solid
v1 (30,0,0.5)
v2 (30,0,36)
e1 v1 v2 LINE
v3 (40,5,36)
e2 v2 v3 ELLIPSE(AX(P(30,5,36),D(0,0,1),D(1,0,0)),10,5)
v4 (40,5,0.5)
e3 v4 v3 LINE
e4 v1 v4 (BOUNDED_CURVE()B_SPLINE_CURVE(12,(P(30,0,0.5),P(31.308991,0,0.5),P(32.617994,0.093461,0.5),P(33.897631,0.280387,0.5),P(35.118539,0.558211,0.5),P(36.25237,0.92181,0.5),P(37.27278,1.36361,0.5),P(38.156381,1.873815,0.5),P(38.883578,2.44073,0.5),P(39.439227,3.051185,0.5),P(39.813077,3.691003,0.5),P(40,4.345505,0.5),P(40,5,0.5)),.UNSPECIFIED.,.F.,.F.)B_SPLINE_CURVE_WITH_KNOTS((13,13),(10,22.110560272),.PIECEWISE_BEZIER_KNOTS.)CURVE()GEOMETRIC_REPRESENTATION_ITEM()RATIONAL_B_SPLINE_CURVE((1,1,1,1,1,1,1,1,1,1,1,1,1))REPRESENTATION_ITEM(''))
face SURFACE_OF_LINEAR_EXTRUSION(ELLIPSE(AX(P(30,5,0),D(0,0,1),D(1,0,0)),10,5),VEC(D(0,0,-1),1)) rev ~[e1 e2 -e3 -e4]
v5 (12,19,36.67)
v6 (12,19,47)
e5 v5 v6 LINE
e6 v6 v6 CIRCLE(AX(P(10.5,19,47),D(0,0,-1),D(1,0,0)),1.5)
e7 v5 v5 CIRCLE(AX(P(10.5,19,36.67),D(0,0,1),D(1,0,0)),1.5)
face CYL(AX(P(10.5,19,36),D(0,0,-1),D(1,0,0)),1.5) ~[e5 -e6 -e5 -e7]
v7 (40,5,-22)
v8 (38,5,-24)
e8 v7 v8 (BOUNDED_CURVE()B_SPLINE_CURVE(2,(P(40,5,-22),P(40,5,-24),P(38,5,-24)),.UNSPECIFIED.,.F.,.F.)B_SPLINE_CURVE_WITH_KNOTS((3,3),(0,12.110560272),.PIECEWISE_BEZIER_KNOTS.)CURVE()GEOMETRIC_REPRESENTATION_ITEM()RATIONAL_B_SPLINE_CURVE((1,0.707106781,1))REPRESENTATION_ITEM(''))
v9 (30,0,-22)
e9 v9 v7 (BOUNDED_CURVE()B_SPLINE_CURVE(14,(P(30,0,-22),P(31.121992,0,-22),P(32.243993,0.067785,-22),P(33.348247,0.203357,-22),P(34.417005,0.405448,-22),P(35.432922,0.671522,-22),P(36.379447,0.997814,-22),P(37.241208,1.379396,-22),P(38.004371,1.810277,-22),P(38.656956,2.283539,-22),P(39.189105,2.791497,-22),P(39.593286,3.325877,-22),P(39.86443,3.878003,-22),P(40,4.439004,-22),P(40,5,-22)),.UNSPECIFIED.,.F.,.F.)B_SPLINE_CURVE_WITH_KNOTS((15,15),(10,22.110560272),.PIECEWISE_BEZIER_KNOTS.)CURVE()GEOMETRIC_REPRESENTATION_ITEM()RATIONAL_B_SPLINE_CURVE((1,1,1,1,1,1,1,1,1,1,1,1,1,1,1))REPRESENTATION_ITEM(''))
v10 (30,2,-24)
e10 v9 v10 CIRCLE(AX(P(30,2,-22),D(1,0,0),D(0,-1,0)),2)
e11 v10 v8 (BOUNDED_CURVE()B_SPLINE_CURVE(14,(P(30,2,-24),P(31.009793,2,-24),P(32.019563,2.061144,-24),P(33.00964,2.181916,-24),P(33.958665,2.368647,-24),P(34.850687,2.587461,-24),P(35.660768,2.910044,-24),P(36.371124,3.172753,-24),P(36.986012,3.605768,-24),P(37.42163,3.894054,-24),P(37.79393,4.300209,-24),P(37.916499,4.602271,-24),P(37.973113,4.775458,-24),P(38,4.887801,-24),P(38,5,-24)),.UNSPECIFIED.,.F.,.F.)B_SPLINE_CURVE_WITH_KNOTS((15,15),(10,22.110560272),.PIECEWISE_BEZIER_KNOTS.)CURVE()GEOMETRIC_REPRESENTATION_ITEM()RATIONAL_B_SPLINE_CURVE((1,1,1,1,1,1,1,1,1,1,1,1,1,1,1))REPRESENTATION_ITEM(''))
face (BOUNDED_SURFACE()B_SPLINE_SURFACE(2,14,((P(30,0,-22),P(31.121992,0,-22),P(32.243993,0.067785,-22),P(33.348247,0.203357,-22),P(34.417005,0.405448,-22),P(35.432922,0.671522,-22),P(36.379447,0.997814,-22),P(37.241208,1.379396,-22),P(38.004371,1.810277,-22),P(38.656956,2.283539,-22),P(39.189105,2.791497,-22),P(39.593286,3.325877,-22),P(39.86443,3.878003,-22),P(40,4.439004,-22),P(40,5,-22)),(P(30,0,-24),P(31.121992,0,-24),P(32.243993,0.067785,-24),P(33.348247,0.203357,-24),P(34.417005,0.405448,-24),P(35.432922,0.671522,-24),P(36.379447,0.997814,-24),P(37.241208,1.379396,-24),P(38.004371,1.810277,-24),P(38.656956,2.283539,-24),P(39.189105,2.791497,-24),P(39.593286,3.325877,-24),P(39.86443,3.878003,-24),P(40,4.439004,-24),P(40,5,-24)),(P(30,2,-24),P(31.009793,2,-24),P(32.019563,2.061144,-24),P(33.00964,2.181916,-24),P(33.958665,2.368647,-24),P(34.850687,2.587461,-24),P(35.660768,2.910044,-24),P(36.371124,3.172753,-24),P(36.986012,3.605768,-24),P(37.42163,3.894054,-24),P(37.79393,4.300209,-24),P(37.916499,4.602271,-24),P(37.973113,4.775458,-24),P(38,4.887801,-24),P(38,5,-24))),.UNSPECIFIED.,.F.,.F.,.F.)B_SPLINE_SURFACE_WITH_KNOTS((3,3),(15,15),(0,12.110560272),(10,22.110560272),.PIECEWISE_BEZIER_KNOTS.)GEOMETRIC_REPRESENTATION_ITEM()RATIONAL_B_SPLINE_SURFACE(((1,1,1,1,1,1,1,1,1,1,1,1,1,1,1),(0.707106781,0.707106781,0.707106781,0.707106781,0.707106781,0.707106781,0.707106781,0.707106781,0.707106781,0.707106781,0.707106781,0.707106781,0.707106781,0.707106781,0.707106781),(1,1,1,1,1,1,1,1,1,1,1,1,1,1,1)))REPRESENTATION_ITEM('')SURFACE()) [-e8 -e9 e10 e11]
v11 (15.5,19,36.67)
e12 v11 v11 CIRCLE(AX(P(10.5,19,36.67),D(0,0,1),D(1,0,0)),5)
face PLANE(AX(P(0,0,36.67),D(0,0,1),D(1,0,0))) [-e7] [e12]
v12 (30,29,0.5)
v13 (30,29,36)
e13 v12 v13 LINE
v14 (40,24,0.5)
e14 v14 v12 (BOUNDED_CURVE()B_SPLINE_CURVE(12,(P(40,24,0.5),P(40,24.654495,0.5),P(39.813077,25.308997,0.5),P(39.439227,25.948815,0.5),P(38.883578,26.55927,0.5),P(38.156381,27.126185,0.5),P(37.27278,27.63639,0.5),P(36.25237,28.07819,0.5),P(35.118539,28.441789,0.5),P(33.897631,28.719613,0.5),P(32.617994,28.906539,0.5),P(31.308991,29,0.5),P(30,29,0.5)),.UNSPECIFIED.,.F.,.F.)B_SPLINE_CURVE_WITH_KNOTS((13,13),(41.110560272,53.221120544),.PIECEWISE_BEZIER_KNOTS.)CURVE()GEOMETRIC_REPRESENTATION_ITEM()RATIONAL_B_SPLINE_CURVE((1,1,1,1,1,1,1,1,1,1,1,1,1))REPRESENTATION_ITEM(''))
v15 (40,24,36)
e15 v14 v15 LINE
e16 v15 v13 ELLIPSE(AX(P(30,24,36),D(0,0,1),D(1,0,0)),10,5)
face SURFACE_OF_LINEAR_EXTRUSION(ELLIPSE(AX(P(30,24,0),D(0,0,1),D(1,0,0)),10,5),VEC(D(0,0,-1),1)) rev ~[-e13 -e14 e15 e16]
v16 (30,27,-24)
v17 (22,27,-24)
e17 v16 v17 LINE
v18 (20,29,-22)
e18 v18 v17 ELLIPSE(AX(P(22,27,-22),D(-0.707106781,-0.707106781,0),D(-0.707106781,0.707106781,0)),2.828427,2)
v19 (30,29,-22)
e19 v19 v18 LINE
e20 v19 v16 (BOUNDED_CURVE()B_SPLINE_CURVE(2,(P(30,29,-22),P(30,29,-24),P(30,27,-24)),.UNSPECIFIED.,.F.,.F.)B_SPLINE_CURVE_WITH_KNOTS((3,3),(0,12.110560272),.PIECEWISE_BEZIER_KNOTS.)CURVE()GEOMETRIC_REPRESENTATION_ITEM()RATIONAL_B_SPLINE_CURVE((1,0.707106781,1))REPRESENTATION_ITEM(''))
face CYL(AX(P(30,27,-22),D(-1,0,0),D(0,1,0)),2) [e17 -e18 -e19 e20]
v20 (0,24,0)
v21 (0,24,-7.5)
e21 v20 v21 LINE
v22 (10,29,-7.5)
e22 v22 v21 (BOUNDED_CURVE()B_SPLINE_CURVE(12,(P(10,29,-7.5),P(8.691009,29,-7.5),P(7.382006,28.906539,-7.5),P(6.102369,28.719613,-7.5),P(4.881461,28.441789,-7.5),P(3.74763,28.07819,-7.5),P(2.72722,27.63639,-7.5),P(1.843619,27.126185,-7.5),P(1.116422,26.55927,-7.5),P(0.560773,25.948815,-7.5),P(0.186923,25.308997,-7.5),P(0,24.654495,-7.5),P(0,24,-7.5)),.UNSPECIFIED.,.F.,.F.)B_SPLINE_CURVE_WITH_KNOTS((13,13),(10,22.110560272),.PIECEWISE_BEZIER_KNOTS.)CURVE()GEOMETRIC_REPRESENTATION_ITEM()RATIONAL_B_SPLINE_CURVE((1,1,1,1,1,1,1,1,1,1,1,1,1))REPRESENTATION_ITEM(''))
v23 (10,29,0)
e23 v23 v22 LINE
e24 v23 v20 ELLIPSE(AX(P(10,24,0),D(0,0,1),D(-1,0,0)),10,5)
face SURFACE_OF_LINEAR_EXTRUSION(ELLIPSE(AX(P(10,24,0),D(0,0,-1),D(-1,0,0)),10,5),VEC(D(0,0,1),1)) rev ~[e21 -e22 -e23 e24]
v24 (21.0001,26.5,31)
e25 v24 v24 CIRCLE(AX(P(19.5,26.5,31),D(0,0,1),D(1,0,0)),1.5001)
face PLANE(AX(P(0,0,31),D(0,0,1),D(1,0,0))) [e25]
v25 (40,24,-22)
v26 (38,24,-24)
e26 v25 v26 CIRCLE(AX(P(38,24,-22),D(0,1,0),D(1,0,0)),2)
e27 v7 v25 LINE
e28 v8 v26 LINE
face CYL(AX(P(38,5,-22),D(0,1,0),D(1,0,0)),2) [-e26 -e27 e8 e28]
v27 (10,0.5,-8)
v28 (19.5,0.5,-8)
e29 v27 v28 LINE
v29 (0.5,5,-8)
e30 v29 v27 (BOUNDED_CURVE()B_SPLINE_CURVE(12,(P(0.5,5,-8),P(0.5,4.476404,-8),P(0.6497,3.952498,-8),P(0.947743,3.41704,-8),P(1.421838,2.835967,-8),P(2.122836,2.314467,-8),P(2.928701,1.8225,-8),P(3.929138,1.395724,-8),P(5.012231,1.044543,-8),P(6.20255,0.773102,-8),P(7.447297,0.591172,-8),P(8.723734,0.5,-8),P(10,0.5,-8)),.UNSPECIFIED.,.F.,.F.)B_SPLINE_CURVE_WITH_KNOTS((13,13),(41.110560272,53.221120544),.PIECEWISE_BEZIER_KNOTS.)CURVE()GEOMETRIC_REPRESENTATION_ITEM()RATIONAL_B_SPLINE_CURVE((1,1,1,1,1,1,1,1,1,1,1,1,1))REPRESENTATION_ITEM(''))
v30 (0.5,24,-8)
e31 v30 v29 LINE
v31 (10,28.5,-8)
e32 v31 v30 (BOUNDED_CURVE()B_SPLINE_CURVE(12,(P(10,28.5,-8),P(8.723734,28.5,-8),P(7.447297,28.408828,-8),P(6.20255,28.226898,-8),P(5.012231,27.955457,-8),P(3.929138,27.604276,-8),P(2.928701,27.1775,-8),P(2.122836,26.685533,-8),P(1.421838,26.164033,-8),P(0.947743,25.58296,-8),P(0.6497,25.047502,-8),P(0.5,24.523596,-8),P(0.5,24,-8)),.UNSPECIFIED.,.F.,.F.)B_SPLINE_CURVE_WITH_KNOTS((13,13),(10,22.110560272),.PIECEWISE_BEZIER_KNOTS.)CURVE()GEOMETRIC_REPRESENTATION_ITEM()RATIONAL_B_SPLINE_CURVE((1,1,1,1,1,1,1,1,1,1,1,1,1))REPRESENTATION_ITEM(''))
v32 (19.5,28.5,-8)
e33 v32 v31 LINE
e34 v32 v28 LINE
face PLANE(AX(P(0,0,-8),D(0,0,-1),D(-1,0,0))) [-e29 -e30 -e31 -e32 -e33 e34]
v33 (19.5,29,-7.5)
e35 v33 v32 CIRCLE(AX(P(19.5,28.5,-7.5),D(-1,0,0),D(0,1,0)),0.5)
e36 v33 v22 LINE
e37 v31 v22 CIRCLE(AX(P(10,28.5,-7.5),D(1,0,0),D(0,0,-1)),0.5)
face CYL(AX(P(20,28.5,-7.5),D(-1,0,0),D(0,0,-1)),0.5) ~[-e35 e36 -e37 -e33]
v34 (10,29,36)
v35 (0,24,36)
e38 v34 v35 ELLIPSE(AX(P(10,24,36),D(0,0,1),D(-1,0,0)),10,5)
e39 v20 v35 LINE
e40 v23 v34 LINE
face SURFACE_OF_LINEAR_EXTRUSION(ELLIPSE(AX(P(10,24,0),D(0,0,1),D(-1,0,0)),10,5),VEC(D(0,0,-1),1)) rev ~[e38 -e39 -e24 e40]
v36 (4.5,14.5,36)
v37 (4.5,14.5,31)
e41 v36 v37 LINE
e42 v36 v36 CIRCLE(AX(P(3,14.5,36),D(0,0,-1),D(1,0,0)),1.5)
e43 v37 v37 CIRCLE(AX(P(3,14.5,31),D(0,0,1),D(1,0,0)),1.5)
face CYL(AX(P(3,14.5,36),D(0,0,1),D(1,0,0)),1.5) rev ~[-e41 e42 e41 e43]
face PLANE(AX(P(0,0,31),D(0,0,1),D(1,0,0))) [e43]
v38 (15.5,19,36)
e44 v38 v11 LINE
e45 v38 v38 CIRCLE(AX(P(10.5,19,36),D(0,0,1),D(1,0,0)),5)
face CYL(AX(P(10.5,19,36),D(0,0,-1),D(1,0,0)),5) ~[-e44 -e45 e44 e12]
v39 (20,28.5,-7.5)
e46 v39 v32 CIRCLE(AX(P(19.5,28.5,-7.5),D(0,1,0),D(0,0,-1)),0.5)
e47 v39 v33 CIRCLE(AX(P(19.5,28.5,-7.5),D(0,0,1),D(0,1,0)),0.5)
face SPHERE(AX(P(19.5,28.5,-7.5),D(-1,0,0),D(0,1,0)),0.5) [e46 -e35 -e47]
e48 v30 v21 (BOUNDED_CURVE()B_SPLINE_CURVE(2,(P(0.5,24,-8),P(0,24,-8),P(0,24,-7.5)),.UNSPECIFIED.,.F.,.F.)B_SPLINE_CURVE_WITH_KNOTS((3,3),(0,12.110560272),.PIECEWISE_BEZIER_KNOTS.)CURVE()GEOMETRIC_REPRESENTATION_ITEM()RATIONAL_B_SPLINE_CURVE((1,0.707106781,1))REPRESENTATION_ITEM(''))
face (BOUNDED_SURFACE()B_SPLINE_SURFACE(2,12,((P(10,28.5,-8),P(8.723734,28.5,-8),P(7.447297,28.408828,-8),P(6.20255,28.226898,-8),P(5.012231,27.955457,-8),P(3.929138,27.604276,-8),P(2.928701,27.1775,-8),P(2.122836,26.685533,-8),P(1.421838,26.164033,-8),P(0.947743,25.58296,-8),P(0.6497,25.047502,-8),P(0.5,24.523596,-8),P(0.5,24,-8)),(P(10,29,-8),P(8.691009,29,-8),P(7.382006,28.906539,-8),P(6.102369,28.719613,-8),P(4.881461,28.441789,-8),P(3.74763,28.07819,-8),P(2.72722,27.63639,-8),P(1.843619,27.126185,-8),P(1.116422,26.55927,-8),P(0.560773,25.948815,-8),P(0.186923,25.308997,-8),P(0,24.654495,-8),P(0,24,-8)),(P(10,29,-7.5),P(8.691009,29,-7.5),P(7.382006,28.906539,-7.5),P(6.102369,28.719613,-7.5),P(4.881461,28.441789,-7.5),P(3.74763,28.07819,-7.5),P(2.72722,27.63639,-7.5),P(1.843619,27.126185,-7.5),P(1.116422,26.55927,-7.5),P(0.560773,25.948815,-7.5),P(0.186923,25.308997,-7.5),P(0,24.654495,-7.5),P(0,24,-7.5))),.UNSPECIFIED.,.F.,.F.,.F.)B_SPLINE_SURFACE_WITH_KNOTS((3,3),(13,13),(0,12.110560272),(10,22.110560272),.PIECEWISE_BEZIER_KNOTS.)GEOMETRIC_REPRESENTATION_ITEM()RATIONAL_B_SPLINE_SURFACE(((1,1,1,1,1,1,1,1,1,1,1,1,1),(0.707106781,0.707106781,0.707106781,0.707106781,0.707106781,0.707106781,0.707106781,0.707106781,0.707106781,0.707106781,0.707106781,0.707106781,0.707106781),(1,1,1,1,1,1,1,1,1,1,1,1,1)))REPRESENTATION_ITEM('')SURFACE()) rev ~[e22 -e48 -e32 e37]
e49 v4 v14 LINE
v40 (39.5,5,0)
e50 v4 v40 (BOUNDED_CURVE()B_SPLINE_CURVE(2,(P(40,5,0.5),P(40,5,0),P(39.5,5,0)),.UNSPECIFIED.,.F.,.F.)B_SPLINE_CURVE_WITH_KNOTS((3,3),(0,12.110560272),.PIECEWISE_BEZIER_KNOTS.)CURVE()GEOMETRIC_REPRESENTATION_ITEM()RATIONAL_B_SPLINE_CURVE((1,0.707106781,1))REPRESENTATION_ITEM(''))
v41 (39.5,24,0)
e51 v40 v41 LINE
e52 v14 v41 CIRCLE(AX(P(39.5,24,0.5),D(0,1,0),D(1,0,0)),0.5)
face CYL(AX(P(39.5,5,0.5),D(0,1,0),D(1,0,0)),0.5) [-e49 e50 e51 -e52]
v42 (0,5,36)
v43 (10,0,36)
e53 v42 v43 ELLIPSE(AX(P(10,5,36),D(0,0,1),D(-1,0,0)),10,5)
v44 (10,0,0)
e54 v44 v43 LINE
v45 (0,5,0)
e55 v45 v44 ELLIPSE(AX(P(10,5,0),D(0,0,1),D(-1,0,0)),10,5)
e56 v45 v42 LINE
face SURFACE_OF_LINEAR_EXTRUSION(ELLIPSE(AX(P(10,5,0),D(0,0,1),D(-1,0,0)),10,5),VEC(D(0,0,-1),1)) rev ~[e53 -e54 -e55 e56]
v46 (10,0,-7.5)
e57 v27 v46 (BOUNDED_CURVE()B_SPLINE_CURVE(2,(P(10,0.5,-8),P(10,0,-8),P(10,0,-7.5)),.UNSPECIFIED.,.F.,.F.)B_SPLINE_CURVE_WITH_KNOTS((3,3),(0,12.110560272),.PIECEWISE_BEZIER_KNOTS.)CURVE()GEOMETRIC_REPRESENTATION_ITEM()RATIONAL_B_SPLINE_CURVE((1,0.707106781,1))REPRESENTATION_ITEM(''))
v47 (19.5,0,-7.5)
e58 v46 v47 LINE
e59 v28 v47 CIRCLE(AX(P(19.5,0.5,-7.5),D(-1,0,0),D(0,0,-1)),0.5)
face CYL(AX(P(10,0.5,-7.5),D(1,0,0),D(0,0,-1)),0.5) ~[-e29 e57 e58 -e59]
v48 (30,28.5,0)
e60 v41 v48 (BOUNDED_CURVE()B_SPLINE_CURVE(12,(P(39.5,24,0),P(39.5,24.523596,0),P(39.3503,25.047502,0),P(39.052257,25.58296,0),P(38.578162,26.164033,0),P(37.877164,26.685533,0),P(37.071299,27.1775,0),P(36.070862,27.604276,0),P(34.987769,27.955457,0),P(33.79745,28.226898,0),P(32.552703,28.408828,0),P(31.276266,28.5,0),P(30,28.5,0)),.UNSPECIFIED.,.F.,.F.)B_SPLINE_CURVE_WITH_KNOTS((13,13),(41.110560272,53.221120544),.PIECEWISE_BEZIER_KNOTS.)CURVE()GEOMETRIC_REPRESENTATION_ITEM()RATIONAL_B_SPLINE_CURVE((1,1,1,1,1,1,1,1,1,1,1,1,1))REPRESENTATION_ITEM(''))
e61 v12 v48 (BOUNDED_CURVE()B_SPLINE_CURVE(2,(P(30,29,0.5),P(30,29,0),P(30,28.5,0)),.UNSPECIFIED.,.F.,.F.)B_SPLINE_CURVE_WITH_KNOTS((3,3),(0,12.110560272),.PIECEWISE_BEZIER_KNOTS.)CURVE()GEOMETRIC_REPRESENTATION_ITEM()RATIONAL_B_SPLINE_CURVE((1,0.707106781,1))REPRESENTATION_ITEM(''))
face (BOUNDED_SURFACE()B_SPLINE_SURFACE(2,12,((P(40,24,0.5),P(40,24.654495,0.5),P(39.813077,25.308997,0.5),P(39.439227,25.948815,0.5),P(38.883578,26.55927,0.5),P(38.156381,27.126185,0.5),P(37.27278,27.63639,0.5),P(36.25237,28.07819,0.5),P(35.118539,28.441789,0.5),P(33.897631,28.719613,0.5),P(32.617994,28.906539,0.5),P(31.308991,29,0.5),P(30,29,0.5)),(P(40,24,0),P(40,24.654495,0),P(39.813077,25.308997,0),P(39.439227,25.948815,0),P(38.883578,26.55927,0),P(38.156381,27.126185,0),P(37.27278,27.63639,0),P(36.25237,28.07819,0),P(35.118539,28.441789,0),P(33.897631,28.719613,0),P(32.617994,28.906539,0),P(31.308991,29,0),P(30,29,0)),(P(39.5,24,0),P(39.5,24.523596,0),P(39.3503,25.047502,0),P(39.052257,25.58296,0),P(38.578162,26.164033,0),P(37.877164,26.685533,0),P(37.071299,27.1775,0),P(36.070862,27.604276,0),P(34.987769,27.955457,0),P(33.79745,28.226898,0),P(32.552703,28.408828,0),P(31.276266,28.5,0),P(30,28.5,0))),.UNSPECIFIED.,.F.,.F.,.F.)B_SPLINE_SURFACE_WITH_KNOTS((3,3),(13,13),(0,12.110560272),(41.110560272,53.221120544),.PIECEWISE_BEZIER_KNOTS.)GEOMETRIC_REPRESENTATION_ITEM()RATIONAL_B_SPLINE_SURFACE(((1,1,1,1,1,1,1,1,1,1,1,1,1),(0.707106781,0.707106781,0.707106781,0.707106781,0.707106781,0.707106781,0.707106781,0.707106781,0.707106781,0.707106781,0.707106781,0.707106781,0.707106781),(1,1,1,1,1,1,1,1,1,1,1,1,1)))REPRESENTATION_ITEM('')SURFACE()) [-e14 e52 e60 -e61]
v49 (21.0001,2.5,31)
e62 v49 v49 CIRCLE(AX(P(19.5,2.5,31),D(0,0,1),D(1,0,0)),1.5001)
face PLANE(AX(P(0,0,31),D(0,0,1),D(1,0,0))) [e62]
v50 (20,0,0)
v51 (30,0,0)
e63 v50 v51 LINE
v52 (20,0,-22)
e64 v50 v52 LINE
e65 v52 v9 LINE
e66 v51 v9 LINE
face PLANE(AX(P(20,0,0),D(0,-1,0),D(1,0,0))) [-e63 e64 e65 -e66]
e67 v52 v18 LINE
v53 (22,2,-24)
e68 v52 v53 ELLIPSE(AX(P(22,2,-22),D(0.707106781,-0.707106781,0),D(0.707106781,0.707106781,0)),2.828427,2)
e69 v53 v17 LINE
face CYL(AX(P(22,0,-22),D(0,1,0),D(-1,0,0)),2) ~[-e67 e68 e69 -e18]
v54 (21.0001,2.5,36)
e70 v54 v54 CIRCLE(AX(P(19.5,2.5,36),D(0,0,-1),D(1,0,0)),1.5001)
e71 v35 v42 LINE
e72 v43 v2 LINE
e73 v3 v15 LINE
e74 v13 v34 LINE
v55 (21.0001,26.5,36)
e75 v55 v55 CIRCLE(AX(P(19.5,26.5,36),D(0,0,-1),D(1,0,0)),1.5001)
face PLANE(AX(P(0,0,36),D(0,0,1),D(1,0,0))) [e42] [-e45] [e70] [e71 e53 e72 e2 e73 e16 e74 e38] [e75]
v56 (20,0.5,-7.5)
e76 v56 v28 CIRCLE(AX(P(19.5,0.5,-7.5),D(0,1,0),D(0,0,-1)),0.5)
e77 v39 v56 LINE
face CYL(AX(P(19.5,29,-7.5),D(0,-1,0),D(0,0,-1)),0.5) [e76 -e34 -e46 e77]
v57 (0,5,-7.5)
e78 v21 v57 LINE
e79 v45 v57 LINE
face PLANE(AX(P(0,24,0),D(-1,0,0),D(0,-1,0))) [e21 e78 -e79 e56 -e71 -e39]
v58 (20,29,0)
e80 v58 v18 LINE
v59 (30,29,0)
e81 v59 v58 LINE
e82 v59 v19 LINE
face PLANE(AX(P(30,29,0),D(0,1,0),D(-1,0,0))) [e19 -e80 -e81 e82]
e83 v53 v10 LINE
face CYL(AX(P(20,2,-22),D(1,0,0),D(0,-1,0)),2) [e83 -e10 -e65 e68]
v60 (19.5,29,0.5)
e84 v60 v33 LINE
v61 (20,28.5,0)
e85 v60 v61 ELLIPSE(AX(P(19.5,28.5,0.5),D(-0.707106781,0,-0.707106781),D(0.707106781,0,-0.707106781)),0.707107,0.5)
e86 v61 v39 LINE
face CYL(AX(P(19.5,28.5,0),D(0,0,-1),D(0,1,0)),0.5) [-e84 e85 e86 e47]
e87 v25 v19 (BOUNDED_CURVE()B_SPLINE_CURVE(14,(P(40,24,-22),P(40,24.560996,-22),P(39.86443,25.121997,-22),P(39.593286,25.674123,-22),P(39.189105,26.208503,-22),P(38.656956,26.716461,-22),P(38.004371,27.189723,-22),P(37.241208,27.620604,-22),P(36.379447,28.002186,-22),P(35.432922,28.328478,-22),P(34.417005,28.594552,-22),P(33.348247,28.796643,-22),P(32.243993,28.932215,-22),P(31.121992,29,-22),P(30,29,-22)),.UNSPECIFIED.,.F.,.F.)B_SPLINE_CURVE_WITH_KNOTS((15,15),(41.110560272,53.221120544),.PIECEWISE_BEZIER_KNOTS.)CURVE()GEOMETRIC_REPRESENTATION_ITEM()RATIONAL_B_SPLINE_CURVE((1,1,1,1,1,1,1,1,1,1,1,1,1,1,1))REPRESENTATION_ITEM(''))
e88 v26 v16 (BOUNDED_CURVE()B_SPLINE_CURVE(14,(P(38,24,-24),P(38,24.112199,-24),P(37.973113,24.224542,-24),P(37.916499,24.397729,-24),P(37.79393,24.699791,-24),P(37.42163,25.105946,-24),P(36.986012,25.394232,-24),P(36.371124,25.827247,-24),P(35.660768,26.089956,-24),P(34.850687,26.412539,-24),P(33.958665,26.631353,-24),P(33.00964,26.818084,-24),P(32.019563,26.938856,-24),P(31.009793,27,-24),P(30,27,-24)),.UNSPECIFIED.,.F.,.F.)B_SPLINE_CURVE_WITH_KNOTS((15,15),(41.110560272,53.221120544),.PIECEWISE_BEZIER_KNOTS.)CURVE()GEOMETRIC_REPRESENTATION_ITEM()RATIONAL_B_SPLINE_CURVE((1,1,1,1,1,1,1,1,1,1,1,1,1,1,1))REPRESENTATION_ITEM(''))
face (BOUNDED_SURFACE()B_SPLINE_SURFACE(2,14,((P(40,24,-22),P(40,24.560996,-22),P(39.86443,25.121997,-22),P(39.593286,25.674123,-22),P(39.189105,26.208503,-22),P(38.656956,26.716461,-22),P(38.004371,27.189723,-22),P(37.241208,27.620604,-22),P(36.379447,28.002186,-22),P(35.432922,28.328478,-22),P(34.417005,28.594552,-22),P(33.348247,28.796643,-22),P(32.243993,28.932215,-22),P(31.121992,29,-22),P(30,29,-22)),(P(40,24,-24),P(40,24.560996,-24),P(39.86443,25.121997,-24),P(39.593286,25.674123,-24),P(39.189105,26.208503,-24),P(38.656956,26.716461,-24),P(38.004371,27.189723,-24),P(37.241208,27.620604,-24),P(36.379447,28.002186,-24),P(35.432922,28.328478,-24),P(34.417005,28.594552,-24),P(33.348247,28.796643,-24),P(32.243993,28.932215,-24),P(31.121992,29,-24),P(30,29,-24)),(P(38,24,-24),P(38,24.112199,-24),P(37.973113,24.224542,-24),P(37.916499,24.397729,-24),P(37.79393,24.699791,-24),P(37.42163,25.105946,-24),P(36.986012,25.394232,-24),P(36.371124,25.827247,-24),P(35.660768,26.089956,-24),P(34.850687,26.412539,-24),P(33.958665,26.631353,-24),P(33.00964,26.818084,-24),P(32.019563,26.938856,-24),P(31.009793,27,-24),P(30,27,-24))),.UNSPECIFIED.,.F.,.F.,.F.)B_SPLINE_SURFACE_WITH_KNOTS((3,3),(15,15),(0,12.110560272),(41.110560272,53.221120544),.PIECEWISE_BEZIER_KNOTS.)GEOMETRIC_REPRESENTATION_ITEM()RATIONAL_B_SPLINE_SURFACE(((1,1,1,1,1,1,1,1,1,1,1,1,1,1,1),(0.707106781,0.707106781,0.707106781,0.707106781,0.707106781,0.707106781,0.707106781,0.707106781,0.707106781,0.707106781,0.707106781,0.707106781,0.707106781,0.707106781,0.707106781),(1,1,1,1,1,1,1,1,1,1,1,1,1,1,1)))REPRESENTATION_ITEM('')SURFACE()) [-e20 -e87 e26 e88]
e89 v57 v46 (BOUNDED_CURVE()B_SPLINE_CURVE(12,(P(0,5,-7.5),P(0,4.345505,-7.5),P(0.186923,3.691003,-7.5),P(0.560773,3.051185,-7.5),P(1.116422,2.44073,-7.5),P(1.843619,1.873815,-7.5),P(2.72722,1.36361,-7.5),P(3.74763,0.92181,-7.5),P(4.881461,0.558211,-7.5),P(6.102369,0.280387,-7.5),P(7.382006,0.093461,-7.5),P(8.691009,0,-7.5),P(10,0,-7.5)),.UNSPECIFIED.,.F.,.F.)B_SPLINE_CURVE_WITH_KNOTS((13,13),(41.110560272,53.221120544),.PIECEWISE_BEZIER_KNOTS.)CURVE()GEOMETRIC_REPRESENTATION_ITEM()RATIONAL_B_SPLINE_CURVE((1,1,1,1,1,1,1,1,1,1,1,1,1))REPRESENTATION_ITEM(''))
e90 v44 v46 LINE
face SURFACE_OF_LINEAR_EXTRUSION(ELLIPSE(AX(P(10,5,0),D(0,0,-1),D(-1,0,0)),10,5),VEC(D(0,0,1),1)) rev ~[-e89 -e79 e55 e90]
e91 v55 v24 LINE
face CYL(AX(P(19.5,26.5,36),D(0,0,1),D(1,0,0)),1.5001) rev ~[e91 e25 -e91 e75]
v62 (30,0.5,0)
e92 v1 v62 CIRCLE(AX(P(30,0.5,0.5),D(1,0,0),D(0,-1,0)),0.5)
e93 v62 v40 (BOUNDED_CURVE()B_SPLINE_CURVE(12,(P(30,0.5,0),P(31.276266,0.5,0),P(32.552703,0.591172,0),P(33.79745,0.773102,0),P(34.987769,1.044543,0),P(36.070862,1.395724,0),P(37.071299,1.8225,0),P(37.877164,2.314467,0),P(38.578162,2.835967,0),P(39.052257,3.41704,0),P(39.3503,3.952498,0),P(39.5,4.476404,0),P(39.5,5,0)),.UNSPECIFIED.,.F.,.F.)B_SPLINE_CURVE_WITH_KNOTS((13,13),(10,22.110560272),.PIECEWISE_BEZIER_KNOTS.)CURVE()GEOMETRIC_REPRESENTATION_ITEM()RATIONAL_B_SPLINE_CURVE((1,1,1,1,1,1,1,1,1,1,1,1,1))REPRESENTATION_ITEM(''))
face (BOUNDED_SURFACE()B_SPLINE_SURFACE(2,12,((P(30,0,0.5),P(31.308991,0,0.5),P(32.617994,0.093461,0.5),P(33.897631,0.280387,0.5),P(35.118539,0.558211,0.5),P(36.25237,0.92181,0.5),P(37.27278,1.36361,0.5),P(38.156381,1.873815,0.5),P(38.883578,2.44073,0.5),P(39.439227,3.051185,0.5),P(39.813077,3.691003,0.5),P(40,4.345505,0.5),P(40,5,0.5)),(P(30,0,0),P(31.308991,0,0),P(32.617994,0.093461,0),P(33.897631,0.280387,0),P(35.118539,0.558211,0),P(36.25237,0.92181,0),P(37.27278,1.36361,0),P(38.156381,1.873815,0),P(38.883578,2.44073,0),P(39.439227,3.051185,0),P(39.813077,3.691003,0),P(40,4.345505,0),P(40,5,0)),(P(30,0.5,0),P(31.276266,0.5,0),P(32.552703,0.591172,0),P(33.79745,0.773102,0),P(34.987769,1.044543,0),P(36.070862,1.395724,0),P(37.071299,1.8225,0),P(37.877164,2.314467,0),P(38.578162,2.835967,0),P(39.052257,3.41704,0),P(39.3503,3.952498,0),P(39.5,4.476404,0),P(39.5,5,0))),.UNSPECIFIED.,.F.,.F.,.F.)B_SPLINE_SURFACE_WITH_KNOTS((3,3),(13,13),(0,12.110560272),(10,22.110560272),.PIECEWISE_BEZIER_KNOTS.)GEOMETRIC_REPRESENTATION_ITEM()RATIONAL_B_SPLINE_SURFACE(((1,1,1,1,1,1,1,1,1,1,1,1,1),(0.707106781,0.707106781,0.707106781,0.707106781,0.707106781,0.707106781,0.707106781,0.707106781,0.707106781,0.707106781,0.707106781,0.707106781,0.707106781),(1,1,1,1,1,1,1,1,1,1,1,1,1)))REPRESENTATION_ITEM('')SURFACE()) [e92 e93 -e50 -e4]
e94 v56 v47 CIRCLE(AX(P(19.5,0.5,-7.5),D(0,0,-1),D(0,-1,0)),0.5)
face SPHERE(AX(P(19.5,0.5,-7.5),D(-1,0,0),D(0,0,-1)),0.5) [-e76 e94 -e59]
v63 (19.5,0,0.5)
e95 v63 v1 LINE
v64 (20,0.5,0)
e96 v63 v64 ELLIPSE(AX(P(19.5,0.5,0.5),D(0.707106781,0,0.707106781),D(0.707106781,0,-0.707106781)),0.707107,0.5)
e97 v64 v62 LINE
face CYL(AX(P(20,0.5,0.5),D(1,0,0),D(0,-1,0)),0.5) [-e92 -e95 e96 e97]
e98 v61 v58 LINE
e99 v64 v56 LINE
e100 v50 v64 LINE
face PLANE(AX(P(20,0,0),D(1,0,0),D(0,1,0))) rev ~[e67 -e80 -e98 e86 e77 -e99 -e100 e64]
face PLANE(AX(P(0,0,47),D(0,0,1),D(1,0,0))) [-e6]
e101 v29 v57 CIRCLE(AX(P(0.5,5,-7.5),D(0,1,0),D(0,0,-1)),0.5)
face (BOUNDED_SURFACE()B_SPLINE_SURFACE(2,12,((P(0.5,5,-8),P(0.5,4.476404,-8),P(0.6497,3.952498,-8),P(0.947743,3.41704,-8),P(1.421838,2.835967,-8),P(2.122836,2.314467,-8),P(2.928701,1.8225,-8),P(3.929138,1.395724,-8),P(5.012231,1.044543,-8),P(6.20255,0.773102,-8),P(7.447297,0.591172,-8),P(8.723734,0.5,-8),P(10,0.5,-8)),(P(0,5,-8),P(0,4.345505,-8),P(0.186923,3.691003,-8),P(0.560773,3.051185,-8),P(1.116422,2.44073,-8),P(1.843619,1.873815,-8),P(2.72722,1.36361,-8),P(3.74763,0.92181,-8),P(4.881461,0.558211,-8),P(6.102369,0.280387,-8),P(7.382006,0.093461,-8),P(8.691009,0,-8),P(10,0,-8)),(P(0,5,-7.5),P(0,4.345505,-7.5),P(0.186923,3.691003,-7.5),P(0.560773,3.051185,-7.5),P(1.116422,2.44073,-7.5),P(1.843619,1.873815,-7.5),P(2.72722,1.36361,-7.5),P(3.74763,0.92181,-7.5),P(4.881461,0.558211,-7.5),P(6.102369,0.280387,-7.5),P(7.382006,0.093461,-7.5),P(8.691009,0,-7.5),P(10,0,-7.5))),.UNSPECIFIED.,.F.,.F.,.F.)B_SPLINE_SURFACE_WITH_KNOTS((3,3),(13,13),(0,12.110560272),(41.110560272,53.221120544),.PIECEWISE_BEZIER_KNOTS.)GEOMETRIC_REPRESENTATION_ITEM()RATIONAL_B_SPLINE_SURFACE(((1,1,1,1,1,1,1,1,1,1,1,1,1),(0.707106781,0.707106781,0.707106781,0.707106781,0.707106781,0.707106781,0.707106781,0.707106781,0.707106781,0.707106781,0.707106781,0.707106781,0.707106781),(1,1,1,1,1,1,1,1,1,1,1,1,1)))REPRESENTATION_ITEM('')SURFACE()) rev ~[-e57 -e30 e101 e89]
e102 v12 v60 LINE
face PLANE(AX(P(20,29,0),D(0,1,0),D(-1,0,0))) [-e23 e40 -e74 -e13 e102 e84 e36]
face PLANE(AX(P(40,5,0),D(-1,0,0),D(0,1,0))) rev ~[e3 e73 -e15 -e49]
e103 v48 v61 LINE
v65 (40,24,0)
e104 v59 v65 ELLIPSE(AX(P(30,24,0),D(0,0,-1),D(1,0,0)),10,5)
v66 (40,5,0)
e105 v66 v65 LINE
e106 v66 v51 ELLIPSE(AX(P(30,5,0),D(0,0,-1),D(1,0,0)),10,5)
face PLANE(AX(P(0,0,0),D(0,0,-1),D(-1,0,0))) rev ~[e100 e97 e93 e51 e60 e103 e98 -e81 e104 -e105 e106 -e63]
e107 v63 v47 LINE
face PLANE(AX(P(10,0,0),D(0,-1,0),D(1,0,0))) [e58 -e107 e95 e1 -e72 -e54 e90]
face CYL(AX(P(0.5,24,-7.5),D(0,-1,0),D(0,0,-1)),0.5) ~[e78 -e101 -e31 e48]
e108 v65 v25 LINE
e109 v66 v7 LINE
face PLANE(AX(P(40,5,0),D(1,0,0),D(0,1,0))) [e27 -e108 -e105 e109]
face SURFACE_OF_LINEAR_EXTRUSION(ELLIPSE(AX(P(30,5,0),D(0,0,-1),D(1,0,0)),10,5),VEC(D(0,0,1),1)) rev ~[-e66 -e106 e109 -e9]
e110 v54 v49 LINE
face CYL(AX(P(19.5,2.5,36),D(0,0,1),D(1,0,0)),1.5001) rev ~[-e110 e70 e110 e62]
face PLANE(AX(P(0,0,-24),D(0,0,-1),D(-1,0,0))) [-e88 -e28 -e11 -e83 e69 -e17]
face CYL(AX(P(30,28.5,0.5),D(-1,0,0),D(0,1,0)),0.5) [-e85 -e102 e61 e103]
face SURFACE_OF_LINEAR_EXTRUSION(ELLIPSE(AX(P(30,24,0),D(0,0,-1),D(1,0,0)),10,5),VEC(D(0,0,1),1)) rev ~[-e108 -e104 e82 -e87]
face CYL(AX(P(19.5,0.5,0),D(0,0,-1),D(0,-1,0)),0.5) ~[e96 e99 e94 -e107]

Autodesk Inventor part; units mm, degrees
ref_plane "YZ Plane" through (0, 0, 0) normal (1, 0, 0) x (0, 1, 0)
ref_plane "XZ Plane" through (0, 0, 0) normal (0, 1, 0) x (-1, 0, 0)
ref_plane "XY Plane" through (0, 0, 0) normal (0, 0, 1) x (1, 0, 0)
sketch "Sketch1" plane through (0, 0, 0) normal (0, 0, 1) x (1, 0, 0)
  ellipse E0 centre (10, 24) end of major axis (0, 24) minor radius 5 (10, 29) -> (0, 24) ccw
  ellipse E1 centre (30, 24) end of major axis (40, 24) minor radius 5 (40, 24) -> (30, 29) ccw
  ellipse E2 centre (30, 5) end of major axis (40, 5) minor radius 5 (30, 0) -> (40, 5) ccw
  ellipse E3 centre (10, 5) end of major axis (0, 5) minor radius 5 (0, 5) -> (10, 0) ccw
  line L0 (30, 29) -> (10, 29)
  line L1 (0, 24) -> (0, 5)
  line L2 (10, 0) -> (30, 0)
  line L3 (40, 5) -> (40, 24)
  point P0 (0, 0)
extrude "Extrusion2" add sketch "Sketch1" along normal blind 36
sketch "Sketch2" plane through (0, 0, 36) normal (0, 0, 1) x (1, 0, 0)
  line L0 (0, 24) -> (0, 5) projected
  line L1 (10, 0) -> (30, 0) projected
  line L2 (30, 29) -> (10, 29) projected
  line L3 (14.358, 14.5) -> (-3.5199, 14.5)
  circle A0 centre (3, 14.5) radius 1.5
  line L4 (21.3512, 2.5) -> (5.4191, 2.5)
  line L5 (21.3512, 26.5) -> (5.4191, 26.5)
  line L6 (19.5, 31.1643) -> (19.5, -4.236)
  circle A1 centre (19.5, 26.5) radius 1.5001
  circle A2 centre (19.5, 2.5) radius 1.5001
  point P0 (0, 0)
  dimension "d16" = 29
  dimension "d17" = 14.5
  dimension "d18" = 3
  dimension "d19" = 3
  dimension "d20" = 24
  dimension "d21" = 12
  dimension "d22" = 16.5
extrude "Extrusion3" cut sketch "Sketch2" against normal blind 5
thread "Thread1" size "M3x0.5" class "6H" standard "ANSI Metric M Profile" full length
thread "Thread2" size "M3x0.5" class "6H" standard "ANSI Metric M Profile" full length
thread "Thread3" size "M3x0.5" class "6H" standard "ANSI Metric M Profile" full length
sketch "Sketch3" plane through (0, 0, 36) normal (0, 0, 1) x (1, 0, 0)
  line L0 (0, 24) -> (0, 5) projected
  line L1 (30, 29) -> (10, 29) projected
  line L2 (-1.3483, 17.5) -> (17.9999, 17.5)
  line L3 (12, 35.2177) -> (12, 13)
  circle A0 centre (10.5, 19) radius 1.5
  point P0 (0, 0)
  dimension "d31" = 11.5
  dimension "d32" = 12
  dimension "d33" = 3
  dimension "d34" = 1.5
  dimension "d35" = 1.5
extrude "Extrusion4" add sketch "Sketch3" along normal blind 11 contours A0
sketch "Sketch4" plane through (0, 0, 36) normal (0, 0, 1) x (1, 0, 0)
  circle A0 centre (10.5, 19) radius 1.5 projected
  circle A1 centre (10.5, 19) radius 5
  point P0 (0, 0)
  dimension "d40" = 10
extrude "Extrusion5" add sketch "Sketch4" along normal blind 0.67
sketch "Sketch5" plane through (0, 0, 0) normal (0, 0, -1) x (-1, 0, 0)
  ellipse E0 centre (-10, 24) end of major axis (0, 24) minor radius 5 (0, 24) -> (-10, 29) ccw projected
  line L0 (-30, 29) -> (-10, 29) projected
  line L1 (-40, 5) -> (-40, 24) projected
  line L2 (-10, 0) -> (-30, 0) projected
  ellipse E1 centre (-10, 5) end of major axis (0, 5) minor radius 5 (-10, 0) -> (0, 5) ccw projected
  line L3 (0, 24) -> (0, 5) projected
  line L4 (-20, 29) -> (-20, 0)
  point P0 (0, 0)
  dimension "d42" = 40
  dimension "d43" = 20
extrude "Extrusion6" add sketch "Sketch5" along normal blind 8
sketch "Sketch6" plane through (0, 0, 0) normal (0, 0, -1) x (-1, 0, 0)
  line L0 (-20, 0) -> (-20, 29) projected
  line L1 (-30, 29) -> (-20, 29) projected
  ellipse E0 centre (-30, 24) end of major axis (-40, 24) minor radius 5 (-30, 29) -> (-40, 24) ccw projected
  line L2 (-40, 5) -> (-40, 24) projected
  ellipse E1 centre (-30, 5) end of major axis (-40, 5) minor radius 5 (-40, 5) -> (-30, 0) ccw projected
  line L3 (-20, 0) -> (-30, 0) projected
  point P0 (0, 0)
fillet "Fillet2" radius 0.5 13 edges at (15, 29, -8) (0, 14.5, -8) (2.9289, 1.4645, -8) (15, 0, -8) (2.9289, 27.5355, -8) (20, 29, -4) (37.0711, 27.5355, 0) (40, 14.5, 0) (37.0711, 1.4645, 0) (25, 0, 0) (25, 29, 0) (20, 14.5, -8) (20, 0, -4)
extrude "Extrusion8" add sketch "Sketch6" along normal blind 24
fillet "Fillet3" radius 2 6 edges at (25, 0, -24) (40, 14.5, -24) (37.0711, 27.5355, -24) (25, 29, -24) (37.0711, 1.4645, -24) (20, 14.5, -24)
properties part number "12V geared motor"
